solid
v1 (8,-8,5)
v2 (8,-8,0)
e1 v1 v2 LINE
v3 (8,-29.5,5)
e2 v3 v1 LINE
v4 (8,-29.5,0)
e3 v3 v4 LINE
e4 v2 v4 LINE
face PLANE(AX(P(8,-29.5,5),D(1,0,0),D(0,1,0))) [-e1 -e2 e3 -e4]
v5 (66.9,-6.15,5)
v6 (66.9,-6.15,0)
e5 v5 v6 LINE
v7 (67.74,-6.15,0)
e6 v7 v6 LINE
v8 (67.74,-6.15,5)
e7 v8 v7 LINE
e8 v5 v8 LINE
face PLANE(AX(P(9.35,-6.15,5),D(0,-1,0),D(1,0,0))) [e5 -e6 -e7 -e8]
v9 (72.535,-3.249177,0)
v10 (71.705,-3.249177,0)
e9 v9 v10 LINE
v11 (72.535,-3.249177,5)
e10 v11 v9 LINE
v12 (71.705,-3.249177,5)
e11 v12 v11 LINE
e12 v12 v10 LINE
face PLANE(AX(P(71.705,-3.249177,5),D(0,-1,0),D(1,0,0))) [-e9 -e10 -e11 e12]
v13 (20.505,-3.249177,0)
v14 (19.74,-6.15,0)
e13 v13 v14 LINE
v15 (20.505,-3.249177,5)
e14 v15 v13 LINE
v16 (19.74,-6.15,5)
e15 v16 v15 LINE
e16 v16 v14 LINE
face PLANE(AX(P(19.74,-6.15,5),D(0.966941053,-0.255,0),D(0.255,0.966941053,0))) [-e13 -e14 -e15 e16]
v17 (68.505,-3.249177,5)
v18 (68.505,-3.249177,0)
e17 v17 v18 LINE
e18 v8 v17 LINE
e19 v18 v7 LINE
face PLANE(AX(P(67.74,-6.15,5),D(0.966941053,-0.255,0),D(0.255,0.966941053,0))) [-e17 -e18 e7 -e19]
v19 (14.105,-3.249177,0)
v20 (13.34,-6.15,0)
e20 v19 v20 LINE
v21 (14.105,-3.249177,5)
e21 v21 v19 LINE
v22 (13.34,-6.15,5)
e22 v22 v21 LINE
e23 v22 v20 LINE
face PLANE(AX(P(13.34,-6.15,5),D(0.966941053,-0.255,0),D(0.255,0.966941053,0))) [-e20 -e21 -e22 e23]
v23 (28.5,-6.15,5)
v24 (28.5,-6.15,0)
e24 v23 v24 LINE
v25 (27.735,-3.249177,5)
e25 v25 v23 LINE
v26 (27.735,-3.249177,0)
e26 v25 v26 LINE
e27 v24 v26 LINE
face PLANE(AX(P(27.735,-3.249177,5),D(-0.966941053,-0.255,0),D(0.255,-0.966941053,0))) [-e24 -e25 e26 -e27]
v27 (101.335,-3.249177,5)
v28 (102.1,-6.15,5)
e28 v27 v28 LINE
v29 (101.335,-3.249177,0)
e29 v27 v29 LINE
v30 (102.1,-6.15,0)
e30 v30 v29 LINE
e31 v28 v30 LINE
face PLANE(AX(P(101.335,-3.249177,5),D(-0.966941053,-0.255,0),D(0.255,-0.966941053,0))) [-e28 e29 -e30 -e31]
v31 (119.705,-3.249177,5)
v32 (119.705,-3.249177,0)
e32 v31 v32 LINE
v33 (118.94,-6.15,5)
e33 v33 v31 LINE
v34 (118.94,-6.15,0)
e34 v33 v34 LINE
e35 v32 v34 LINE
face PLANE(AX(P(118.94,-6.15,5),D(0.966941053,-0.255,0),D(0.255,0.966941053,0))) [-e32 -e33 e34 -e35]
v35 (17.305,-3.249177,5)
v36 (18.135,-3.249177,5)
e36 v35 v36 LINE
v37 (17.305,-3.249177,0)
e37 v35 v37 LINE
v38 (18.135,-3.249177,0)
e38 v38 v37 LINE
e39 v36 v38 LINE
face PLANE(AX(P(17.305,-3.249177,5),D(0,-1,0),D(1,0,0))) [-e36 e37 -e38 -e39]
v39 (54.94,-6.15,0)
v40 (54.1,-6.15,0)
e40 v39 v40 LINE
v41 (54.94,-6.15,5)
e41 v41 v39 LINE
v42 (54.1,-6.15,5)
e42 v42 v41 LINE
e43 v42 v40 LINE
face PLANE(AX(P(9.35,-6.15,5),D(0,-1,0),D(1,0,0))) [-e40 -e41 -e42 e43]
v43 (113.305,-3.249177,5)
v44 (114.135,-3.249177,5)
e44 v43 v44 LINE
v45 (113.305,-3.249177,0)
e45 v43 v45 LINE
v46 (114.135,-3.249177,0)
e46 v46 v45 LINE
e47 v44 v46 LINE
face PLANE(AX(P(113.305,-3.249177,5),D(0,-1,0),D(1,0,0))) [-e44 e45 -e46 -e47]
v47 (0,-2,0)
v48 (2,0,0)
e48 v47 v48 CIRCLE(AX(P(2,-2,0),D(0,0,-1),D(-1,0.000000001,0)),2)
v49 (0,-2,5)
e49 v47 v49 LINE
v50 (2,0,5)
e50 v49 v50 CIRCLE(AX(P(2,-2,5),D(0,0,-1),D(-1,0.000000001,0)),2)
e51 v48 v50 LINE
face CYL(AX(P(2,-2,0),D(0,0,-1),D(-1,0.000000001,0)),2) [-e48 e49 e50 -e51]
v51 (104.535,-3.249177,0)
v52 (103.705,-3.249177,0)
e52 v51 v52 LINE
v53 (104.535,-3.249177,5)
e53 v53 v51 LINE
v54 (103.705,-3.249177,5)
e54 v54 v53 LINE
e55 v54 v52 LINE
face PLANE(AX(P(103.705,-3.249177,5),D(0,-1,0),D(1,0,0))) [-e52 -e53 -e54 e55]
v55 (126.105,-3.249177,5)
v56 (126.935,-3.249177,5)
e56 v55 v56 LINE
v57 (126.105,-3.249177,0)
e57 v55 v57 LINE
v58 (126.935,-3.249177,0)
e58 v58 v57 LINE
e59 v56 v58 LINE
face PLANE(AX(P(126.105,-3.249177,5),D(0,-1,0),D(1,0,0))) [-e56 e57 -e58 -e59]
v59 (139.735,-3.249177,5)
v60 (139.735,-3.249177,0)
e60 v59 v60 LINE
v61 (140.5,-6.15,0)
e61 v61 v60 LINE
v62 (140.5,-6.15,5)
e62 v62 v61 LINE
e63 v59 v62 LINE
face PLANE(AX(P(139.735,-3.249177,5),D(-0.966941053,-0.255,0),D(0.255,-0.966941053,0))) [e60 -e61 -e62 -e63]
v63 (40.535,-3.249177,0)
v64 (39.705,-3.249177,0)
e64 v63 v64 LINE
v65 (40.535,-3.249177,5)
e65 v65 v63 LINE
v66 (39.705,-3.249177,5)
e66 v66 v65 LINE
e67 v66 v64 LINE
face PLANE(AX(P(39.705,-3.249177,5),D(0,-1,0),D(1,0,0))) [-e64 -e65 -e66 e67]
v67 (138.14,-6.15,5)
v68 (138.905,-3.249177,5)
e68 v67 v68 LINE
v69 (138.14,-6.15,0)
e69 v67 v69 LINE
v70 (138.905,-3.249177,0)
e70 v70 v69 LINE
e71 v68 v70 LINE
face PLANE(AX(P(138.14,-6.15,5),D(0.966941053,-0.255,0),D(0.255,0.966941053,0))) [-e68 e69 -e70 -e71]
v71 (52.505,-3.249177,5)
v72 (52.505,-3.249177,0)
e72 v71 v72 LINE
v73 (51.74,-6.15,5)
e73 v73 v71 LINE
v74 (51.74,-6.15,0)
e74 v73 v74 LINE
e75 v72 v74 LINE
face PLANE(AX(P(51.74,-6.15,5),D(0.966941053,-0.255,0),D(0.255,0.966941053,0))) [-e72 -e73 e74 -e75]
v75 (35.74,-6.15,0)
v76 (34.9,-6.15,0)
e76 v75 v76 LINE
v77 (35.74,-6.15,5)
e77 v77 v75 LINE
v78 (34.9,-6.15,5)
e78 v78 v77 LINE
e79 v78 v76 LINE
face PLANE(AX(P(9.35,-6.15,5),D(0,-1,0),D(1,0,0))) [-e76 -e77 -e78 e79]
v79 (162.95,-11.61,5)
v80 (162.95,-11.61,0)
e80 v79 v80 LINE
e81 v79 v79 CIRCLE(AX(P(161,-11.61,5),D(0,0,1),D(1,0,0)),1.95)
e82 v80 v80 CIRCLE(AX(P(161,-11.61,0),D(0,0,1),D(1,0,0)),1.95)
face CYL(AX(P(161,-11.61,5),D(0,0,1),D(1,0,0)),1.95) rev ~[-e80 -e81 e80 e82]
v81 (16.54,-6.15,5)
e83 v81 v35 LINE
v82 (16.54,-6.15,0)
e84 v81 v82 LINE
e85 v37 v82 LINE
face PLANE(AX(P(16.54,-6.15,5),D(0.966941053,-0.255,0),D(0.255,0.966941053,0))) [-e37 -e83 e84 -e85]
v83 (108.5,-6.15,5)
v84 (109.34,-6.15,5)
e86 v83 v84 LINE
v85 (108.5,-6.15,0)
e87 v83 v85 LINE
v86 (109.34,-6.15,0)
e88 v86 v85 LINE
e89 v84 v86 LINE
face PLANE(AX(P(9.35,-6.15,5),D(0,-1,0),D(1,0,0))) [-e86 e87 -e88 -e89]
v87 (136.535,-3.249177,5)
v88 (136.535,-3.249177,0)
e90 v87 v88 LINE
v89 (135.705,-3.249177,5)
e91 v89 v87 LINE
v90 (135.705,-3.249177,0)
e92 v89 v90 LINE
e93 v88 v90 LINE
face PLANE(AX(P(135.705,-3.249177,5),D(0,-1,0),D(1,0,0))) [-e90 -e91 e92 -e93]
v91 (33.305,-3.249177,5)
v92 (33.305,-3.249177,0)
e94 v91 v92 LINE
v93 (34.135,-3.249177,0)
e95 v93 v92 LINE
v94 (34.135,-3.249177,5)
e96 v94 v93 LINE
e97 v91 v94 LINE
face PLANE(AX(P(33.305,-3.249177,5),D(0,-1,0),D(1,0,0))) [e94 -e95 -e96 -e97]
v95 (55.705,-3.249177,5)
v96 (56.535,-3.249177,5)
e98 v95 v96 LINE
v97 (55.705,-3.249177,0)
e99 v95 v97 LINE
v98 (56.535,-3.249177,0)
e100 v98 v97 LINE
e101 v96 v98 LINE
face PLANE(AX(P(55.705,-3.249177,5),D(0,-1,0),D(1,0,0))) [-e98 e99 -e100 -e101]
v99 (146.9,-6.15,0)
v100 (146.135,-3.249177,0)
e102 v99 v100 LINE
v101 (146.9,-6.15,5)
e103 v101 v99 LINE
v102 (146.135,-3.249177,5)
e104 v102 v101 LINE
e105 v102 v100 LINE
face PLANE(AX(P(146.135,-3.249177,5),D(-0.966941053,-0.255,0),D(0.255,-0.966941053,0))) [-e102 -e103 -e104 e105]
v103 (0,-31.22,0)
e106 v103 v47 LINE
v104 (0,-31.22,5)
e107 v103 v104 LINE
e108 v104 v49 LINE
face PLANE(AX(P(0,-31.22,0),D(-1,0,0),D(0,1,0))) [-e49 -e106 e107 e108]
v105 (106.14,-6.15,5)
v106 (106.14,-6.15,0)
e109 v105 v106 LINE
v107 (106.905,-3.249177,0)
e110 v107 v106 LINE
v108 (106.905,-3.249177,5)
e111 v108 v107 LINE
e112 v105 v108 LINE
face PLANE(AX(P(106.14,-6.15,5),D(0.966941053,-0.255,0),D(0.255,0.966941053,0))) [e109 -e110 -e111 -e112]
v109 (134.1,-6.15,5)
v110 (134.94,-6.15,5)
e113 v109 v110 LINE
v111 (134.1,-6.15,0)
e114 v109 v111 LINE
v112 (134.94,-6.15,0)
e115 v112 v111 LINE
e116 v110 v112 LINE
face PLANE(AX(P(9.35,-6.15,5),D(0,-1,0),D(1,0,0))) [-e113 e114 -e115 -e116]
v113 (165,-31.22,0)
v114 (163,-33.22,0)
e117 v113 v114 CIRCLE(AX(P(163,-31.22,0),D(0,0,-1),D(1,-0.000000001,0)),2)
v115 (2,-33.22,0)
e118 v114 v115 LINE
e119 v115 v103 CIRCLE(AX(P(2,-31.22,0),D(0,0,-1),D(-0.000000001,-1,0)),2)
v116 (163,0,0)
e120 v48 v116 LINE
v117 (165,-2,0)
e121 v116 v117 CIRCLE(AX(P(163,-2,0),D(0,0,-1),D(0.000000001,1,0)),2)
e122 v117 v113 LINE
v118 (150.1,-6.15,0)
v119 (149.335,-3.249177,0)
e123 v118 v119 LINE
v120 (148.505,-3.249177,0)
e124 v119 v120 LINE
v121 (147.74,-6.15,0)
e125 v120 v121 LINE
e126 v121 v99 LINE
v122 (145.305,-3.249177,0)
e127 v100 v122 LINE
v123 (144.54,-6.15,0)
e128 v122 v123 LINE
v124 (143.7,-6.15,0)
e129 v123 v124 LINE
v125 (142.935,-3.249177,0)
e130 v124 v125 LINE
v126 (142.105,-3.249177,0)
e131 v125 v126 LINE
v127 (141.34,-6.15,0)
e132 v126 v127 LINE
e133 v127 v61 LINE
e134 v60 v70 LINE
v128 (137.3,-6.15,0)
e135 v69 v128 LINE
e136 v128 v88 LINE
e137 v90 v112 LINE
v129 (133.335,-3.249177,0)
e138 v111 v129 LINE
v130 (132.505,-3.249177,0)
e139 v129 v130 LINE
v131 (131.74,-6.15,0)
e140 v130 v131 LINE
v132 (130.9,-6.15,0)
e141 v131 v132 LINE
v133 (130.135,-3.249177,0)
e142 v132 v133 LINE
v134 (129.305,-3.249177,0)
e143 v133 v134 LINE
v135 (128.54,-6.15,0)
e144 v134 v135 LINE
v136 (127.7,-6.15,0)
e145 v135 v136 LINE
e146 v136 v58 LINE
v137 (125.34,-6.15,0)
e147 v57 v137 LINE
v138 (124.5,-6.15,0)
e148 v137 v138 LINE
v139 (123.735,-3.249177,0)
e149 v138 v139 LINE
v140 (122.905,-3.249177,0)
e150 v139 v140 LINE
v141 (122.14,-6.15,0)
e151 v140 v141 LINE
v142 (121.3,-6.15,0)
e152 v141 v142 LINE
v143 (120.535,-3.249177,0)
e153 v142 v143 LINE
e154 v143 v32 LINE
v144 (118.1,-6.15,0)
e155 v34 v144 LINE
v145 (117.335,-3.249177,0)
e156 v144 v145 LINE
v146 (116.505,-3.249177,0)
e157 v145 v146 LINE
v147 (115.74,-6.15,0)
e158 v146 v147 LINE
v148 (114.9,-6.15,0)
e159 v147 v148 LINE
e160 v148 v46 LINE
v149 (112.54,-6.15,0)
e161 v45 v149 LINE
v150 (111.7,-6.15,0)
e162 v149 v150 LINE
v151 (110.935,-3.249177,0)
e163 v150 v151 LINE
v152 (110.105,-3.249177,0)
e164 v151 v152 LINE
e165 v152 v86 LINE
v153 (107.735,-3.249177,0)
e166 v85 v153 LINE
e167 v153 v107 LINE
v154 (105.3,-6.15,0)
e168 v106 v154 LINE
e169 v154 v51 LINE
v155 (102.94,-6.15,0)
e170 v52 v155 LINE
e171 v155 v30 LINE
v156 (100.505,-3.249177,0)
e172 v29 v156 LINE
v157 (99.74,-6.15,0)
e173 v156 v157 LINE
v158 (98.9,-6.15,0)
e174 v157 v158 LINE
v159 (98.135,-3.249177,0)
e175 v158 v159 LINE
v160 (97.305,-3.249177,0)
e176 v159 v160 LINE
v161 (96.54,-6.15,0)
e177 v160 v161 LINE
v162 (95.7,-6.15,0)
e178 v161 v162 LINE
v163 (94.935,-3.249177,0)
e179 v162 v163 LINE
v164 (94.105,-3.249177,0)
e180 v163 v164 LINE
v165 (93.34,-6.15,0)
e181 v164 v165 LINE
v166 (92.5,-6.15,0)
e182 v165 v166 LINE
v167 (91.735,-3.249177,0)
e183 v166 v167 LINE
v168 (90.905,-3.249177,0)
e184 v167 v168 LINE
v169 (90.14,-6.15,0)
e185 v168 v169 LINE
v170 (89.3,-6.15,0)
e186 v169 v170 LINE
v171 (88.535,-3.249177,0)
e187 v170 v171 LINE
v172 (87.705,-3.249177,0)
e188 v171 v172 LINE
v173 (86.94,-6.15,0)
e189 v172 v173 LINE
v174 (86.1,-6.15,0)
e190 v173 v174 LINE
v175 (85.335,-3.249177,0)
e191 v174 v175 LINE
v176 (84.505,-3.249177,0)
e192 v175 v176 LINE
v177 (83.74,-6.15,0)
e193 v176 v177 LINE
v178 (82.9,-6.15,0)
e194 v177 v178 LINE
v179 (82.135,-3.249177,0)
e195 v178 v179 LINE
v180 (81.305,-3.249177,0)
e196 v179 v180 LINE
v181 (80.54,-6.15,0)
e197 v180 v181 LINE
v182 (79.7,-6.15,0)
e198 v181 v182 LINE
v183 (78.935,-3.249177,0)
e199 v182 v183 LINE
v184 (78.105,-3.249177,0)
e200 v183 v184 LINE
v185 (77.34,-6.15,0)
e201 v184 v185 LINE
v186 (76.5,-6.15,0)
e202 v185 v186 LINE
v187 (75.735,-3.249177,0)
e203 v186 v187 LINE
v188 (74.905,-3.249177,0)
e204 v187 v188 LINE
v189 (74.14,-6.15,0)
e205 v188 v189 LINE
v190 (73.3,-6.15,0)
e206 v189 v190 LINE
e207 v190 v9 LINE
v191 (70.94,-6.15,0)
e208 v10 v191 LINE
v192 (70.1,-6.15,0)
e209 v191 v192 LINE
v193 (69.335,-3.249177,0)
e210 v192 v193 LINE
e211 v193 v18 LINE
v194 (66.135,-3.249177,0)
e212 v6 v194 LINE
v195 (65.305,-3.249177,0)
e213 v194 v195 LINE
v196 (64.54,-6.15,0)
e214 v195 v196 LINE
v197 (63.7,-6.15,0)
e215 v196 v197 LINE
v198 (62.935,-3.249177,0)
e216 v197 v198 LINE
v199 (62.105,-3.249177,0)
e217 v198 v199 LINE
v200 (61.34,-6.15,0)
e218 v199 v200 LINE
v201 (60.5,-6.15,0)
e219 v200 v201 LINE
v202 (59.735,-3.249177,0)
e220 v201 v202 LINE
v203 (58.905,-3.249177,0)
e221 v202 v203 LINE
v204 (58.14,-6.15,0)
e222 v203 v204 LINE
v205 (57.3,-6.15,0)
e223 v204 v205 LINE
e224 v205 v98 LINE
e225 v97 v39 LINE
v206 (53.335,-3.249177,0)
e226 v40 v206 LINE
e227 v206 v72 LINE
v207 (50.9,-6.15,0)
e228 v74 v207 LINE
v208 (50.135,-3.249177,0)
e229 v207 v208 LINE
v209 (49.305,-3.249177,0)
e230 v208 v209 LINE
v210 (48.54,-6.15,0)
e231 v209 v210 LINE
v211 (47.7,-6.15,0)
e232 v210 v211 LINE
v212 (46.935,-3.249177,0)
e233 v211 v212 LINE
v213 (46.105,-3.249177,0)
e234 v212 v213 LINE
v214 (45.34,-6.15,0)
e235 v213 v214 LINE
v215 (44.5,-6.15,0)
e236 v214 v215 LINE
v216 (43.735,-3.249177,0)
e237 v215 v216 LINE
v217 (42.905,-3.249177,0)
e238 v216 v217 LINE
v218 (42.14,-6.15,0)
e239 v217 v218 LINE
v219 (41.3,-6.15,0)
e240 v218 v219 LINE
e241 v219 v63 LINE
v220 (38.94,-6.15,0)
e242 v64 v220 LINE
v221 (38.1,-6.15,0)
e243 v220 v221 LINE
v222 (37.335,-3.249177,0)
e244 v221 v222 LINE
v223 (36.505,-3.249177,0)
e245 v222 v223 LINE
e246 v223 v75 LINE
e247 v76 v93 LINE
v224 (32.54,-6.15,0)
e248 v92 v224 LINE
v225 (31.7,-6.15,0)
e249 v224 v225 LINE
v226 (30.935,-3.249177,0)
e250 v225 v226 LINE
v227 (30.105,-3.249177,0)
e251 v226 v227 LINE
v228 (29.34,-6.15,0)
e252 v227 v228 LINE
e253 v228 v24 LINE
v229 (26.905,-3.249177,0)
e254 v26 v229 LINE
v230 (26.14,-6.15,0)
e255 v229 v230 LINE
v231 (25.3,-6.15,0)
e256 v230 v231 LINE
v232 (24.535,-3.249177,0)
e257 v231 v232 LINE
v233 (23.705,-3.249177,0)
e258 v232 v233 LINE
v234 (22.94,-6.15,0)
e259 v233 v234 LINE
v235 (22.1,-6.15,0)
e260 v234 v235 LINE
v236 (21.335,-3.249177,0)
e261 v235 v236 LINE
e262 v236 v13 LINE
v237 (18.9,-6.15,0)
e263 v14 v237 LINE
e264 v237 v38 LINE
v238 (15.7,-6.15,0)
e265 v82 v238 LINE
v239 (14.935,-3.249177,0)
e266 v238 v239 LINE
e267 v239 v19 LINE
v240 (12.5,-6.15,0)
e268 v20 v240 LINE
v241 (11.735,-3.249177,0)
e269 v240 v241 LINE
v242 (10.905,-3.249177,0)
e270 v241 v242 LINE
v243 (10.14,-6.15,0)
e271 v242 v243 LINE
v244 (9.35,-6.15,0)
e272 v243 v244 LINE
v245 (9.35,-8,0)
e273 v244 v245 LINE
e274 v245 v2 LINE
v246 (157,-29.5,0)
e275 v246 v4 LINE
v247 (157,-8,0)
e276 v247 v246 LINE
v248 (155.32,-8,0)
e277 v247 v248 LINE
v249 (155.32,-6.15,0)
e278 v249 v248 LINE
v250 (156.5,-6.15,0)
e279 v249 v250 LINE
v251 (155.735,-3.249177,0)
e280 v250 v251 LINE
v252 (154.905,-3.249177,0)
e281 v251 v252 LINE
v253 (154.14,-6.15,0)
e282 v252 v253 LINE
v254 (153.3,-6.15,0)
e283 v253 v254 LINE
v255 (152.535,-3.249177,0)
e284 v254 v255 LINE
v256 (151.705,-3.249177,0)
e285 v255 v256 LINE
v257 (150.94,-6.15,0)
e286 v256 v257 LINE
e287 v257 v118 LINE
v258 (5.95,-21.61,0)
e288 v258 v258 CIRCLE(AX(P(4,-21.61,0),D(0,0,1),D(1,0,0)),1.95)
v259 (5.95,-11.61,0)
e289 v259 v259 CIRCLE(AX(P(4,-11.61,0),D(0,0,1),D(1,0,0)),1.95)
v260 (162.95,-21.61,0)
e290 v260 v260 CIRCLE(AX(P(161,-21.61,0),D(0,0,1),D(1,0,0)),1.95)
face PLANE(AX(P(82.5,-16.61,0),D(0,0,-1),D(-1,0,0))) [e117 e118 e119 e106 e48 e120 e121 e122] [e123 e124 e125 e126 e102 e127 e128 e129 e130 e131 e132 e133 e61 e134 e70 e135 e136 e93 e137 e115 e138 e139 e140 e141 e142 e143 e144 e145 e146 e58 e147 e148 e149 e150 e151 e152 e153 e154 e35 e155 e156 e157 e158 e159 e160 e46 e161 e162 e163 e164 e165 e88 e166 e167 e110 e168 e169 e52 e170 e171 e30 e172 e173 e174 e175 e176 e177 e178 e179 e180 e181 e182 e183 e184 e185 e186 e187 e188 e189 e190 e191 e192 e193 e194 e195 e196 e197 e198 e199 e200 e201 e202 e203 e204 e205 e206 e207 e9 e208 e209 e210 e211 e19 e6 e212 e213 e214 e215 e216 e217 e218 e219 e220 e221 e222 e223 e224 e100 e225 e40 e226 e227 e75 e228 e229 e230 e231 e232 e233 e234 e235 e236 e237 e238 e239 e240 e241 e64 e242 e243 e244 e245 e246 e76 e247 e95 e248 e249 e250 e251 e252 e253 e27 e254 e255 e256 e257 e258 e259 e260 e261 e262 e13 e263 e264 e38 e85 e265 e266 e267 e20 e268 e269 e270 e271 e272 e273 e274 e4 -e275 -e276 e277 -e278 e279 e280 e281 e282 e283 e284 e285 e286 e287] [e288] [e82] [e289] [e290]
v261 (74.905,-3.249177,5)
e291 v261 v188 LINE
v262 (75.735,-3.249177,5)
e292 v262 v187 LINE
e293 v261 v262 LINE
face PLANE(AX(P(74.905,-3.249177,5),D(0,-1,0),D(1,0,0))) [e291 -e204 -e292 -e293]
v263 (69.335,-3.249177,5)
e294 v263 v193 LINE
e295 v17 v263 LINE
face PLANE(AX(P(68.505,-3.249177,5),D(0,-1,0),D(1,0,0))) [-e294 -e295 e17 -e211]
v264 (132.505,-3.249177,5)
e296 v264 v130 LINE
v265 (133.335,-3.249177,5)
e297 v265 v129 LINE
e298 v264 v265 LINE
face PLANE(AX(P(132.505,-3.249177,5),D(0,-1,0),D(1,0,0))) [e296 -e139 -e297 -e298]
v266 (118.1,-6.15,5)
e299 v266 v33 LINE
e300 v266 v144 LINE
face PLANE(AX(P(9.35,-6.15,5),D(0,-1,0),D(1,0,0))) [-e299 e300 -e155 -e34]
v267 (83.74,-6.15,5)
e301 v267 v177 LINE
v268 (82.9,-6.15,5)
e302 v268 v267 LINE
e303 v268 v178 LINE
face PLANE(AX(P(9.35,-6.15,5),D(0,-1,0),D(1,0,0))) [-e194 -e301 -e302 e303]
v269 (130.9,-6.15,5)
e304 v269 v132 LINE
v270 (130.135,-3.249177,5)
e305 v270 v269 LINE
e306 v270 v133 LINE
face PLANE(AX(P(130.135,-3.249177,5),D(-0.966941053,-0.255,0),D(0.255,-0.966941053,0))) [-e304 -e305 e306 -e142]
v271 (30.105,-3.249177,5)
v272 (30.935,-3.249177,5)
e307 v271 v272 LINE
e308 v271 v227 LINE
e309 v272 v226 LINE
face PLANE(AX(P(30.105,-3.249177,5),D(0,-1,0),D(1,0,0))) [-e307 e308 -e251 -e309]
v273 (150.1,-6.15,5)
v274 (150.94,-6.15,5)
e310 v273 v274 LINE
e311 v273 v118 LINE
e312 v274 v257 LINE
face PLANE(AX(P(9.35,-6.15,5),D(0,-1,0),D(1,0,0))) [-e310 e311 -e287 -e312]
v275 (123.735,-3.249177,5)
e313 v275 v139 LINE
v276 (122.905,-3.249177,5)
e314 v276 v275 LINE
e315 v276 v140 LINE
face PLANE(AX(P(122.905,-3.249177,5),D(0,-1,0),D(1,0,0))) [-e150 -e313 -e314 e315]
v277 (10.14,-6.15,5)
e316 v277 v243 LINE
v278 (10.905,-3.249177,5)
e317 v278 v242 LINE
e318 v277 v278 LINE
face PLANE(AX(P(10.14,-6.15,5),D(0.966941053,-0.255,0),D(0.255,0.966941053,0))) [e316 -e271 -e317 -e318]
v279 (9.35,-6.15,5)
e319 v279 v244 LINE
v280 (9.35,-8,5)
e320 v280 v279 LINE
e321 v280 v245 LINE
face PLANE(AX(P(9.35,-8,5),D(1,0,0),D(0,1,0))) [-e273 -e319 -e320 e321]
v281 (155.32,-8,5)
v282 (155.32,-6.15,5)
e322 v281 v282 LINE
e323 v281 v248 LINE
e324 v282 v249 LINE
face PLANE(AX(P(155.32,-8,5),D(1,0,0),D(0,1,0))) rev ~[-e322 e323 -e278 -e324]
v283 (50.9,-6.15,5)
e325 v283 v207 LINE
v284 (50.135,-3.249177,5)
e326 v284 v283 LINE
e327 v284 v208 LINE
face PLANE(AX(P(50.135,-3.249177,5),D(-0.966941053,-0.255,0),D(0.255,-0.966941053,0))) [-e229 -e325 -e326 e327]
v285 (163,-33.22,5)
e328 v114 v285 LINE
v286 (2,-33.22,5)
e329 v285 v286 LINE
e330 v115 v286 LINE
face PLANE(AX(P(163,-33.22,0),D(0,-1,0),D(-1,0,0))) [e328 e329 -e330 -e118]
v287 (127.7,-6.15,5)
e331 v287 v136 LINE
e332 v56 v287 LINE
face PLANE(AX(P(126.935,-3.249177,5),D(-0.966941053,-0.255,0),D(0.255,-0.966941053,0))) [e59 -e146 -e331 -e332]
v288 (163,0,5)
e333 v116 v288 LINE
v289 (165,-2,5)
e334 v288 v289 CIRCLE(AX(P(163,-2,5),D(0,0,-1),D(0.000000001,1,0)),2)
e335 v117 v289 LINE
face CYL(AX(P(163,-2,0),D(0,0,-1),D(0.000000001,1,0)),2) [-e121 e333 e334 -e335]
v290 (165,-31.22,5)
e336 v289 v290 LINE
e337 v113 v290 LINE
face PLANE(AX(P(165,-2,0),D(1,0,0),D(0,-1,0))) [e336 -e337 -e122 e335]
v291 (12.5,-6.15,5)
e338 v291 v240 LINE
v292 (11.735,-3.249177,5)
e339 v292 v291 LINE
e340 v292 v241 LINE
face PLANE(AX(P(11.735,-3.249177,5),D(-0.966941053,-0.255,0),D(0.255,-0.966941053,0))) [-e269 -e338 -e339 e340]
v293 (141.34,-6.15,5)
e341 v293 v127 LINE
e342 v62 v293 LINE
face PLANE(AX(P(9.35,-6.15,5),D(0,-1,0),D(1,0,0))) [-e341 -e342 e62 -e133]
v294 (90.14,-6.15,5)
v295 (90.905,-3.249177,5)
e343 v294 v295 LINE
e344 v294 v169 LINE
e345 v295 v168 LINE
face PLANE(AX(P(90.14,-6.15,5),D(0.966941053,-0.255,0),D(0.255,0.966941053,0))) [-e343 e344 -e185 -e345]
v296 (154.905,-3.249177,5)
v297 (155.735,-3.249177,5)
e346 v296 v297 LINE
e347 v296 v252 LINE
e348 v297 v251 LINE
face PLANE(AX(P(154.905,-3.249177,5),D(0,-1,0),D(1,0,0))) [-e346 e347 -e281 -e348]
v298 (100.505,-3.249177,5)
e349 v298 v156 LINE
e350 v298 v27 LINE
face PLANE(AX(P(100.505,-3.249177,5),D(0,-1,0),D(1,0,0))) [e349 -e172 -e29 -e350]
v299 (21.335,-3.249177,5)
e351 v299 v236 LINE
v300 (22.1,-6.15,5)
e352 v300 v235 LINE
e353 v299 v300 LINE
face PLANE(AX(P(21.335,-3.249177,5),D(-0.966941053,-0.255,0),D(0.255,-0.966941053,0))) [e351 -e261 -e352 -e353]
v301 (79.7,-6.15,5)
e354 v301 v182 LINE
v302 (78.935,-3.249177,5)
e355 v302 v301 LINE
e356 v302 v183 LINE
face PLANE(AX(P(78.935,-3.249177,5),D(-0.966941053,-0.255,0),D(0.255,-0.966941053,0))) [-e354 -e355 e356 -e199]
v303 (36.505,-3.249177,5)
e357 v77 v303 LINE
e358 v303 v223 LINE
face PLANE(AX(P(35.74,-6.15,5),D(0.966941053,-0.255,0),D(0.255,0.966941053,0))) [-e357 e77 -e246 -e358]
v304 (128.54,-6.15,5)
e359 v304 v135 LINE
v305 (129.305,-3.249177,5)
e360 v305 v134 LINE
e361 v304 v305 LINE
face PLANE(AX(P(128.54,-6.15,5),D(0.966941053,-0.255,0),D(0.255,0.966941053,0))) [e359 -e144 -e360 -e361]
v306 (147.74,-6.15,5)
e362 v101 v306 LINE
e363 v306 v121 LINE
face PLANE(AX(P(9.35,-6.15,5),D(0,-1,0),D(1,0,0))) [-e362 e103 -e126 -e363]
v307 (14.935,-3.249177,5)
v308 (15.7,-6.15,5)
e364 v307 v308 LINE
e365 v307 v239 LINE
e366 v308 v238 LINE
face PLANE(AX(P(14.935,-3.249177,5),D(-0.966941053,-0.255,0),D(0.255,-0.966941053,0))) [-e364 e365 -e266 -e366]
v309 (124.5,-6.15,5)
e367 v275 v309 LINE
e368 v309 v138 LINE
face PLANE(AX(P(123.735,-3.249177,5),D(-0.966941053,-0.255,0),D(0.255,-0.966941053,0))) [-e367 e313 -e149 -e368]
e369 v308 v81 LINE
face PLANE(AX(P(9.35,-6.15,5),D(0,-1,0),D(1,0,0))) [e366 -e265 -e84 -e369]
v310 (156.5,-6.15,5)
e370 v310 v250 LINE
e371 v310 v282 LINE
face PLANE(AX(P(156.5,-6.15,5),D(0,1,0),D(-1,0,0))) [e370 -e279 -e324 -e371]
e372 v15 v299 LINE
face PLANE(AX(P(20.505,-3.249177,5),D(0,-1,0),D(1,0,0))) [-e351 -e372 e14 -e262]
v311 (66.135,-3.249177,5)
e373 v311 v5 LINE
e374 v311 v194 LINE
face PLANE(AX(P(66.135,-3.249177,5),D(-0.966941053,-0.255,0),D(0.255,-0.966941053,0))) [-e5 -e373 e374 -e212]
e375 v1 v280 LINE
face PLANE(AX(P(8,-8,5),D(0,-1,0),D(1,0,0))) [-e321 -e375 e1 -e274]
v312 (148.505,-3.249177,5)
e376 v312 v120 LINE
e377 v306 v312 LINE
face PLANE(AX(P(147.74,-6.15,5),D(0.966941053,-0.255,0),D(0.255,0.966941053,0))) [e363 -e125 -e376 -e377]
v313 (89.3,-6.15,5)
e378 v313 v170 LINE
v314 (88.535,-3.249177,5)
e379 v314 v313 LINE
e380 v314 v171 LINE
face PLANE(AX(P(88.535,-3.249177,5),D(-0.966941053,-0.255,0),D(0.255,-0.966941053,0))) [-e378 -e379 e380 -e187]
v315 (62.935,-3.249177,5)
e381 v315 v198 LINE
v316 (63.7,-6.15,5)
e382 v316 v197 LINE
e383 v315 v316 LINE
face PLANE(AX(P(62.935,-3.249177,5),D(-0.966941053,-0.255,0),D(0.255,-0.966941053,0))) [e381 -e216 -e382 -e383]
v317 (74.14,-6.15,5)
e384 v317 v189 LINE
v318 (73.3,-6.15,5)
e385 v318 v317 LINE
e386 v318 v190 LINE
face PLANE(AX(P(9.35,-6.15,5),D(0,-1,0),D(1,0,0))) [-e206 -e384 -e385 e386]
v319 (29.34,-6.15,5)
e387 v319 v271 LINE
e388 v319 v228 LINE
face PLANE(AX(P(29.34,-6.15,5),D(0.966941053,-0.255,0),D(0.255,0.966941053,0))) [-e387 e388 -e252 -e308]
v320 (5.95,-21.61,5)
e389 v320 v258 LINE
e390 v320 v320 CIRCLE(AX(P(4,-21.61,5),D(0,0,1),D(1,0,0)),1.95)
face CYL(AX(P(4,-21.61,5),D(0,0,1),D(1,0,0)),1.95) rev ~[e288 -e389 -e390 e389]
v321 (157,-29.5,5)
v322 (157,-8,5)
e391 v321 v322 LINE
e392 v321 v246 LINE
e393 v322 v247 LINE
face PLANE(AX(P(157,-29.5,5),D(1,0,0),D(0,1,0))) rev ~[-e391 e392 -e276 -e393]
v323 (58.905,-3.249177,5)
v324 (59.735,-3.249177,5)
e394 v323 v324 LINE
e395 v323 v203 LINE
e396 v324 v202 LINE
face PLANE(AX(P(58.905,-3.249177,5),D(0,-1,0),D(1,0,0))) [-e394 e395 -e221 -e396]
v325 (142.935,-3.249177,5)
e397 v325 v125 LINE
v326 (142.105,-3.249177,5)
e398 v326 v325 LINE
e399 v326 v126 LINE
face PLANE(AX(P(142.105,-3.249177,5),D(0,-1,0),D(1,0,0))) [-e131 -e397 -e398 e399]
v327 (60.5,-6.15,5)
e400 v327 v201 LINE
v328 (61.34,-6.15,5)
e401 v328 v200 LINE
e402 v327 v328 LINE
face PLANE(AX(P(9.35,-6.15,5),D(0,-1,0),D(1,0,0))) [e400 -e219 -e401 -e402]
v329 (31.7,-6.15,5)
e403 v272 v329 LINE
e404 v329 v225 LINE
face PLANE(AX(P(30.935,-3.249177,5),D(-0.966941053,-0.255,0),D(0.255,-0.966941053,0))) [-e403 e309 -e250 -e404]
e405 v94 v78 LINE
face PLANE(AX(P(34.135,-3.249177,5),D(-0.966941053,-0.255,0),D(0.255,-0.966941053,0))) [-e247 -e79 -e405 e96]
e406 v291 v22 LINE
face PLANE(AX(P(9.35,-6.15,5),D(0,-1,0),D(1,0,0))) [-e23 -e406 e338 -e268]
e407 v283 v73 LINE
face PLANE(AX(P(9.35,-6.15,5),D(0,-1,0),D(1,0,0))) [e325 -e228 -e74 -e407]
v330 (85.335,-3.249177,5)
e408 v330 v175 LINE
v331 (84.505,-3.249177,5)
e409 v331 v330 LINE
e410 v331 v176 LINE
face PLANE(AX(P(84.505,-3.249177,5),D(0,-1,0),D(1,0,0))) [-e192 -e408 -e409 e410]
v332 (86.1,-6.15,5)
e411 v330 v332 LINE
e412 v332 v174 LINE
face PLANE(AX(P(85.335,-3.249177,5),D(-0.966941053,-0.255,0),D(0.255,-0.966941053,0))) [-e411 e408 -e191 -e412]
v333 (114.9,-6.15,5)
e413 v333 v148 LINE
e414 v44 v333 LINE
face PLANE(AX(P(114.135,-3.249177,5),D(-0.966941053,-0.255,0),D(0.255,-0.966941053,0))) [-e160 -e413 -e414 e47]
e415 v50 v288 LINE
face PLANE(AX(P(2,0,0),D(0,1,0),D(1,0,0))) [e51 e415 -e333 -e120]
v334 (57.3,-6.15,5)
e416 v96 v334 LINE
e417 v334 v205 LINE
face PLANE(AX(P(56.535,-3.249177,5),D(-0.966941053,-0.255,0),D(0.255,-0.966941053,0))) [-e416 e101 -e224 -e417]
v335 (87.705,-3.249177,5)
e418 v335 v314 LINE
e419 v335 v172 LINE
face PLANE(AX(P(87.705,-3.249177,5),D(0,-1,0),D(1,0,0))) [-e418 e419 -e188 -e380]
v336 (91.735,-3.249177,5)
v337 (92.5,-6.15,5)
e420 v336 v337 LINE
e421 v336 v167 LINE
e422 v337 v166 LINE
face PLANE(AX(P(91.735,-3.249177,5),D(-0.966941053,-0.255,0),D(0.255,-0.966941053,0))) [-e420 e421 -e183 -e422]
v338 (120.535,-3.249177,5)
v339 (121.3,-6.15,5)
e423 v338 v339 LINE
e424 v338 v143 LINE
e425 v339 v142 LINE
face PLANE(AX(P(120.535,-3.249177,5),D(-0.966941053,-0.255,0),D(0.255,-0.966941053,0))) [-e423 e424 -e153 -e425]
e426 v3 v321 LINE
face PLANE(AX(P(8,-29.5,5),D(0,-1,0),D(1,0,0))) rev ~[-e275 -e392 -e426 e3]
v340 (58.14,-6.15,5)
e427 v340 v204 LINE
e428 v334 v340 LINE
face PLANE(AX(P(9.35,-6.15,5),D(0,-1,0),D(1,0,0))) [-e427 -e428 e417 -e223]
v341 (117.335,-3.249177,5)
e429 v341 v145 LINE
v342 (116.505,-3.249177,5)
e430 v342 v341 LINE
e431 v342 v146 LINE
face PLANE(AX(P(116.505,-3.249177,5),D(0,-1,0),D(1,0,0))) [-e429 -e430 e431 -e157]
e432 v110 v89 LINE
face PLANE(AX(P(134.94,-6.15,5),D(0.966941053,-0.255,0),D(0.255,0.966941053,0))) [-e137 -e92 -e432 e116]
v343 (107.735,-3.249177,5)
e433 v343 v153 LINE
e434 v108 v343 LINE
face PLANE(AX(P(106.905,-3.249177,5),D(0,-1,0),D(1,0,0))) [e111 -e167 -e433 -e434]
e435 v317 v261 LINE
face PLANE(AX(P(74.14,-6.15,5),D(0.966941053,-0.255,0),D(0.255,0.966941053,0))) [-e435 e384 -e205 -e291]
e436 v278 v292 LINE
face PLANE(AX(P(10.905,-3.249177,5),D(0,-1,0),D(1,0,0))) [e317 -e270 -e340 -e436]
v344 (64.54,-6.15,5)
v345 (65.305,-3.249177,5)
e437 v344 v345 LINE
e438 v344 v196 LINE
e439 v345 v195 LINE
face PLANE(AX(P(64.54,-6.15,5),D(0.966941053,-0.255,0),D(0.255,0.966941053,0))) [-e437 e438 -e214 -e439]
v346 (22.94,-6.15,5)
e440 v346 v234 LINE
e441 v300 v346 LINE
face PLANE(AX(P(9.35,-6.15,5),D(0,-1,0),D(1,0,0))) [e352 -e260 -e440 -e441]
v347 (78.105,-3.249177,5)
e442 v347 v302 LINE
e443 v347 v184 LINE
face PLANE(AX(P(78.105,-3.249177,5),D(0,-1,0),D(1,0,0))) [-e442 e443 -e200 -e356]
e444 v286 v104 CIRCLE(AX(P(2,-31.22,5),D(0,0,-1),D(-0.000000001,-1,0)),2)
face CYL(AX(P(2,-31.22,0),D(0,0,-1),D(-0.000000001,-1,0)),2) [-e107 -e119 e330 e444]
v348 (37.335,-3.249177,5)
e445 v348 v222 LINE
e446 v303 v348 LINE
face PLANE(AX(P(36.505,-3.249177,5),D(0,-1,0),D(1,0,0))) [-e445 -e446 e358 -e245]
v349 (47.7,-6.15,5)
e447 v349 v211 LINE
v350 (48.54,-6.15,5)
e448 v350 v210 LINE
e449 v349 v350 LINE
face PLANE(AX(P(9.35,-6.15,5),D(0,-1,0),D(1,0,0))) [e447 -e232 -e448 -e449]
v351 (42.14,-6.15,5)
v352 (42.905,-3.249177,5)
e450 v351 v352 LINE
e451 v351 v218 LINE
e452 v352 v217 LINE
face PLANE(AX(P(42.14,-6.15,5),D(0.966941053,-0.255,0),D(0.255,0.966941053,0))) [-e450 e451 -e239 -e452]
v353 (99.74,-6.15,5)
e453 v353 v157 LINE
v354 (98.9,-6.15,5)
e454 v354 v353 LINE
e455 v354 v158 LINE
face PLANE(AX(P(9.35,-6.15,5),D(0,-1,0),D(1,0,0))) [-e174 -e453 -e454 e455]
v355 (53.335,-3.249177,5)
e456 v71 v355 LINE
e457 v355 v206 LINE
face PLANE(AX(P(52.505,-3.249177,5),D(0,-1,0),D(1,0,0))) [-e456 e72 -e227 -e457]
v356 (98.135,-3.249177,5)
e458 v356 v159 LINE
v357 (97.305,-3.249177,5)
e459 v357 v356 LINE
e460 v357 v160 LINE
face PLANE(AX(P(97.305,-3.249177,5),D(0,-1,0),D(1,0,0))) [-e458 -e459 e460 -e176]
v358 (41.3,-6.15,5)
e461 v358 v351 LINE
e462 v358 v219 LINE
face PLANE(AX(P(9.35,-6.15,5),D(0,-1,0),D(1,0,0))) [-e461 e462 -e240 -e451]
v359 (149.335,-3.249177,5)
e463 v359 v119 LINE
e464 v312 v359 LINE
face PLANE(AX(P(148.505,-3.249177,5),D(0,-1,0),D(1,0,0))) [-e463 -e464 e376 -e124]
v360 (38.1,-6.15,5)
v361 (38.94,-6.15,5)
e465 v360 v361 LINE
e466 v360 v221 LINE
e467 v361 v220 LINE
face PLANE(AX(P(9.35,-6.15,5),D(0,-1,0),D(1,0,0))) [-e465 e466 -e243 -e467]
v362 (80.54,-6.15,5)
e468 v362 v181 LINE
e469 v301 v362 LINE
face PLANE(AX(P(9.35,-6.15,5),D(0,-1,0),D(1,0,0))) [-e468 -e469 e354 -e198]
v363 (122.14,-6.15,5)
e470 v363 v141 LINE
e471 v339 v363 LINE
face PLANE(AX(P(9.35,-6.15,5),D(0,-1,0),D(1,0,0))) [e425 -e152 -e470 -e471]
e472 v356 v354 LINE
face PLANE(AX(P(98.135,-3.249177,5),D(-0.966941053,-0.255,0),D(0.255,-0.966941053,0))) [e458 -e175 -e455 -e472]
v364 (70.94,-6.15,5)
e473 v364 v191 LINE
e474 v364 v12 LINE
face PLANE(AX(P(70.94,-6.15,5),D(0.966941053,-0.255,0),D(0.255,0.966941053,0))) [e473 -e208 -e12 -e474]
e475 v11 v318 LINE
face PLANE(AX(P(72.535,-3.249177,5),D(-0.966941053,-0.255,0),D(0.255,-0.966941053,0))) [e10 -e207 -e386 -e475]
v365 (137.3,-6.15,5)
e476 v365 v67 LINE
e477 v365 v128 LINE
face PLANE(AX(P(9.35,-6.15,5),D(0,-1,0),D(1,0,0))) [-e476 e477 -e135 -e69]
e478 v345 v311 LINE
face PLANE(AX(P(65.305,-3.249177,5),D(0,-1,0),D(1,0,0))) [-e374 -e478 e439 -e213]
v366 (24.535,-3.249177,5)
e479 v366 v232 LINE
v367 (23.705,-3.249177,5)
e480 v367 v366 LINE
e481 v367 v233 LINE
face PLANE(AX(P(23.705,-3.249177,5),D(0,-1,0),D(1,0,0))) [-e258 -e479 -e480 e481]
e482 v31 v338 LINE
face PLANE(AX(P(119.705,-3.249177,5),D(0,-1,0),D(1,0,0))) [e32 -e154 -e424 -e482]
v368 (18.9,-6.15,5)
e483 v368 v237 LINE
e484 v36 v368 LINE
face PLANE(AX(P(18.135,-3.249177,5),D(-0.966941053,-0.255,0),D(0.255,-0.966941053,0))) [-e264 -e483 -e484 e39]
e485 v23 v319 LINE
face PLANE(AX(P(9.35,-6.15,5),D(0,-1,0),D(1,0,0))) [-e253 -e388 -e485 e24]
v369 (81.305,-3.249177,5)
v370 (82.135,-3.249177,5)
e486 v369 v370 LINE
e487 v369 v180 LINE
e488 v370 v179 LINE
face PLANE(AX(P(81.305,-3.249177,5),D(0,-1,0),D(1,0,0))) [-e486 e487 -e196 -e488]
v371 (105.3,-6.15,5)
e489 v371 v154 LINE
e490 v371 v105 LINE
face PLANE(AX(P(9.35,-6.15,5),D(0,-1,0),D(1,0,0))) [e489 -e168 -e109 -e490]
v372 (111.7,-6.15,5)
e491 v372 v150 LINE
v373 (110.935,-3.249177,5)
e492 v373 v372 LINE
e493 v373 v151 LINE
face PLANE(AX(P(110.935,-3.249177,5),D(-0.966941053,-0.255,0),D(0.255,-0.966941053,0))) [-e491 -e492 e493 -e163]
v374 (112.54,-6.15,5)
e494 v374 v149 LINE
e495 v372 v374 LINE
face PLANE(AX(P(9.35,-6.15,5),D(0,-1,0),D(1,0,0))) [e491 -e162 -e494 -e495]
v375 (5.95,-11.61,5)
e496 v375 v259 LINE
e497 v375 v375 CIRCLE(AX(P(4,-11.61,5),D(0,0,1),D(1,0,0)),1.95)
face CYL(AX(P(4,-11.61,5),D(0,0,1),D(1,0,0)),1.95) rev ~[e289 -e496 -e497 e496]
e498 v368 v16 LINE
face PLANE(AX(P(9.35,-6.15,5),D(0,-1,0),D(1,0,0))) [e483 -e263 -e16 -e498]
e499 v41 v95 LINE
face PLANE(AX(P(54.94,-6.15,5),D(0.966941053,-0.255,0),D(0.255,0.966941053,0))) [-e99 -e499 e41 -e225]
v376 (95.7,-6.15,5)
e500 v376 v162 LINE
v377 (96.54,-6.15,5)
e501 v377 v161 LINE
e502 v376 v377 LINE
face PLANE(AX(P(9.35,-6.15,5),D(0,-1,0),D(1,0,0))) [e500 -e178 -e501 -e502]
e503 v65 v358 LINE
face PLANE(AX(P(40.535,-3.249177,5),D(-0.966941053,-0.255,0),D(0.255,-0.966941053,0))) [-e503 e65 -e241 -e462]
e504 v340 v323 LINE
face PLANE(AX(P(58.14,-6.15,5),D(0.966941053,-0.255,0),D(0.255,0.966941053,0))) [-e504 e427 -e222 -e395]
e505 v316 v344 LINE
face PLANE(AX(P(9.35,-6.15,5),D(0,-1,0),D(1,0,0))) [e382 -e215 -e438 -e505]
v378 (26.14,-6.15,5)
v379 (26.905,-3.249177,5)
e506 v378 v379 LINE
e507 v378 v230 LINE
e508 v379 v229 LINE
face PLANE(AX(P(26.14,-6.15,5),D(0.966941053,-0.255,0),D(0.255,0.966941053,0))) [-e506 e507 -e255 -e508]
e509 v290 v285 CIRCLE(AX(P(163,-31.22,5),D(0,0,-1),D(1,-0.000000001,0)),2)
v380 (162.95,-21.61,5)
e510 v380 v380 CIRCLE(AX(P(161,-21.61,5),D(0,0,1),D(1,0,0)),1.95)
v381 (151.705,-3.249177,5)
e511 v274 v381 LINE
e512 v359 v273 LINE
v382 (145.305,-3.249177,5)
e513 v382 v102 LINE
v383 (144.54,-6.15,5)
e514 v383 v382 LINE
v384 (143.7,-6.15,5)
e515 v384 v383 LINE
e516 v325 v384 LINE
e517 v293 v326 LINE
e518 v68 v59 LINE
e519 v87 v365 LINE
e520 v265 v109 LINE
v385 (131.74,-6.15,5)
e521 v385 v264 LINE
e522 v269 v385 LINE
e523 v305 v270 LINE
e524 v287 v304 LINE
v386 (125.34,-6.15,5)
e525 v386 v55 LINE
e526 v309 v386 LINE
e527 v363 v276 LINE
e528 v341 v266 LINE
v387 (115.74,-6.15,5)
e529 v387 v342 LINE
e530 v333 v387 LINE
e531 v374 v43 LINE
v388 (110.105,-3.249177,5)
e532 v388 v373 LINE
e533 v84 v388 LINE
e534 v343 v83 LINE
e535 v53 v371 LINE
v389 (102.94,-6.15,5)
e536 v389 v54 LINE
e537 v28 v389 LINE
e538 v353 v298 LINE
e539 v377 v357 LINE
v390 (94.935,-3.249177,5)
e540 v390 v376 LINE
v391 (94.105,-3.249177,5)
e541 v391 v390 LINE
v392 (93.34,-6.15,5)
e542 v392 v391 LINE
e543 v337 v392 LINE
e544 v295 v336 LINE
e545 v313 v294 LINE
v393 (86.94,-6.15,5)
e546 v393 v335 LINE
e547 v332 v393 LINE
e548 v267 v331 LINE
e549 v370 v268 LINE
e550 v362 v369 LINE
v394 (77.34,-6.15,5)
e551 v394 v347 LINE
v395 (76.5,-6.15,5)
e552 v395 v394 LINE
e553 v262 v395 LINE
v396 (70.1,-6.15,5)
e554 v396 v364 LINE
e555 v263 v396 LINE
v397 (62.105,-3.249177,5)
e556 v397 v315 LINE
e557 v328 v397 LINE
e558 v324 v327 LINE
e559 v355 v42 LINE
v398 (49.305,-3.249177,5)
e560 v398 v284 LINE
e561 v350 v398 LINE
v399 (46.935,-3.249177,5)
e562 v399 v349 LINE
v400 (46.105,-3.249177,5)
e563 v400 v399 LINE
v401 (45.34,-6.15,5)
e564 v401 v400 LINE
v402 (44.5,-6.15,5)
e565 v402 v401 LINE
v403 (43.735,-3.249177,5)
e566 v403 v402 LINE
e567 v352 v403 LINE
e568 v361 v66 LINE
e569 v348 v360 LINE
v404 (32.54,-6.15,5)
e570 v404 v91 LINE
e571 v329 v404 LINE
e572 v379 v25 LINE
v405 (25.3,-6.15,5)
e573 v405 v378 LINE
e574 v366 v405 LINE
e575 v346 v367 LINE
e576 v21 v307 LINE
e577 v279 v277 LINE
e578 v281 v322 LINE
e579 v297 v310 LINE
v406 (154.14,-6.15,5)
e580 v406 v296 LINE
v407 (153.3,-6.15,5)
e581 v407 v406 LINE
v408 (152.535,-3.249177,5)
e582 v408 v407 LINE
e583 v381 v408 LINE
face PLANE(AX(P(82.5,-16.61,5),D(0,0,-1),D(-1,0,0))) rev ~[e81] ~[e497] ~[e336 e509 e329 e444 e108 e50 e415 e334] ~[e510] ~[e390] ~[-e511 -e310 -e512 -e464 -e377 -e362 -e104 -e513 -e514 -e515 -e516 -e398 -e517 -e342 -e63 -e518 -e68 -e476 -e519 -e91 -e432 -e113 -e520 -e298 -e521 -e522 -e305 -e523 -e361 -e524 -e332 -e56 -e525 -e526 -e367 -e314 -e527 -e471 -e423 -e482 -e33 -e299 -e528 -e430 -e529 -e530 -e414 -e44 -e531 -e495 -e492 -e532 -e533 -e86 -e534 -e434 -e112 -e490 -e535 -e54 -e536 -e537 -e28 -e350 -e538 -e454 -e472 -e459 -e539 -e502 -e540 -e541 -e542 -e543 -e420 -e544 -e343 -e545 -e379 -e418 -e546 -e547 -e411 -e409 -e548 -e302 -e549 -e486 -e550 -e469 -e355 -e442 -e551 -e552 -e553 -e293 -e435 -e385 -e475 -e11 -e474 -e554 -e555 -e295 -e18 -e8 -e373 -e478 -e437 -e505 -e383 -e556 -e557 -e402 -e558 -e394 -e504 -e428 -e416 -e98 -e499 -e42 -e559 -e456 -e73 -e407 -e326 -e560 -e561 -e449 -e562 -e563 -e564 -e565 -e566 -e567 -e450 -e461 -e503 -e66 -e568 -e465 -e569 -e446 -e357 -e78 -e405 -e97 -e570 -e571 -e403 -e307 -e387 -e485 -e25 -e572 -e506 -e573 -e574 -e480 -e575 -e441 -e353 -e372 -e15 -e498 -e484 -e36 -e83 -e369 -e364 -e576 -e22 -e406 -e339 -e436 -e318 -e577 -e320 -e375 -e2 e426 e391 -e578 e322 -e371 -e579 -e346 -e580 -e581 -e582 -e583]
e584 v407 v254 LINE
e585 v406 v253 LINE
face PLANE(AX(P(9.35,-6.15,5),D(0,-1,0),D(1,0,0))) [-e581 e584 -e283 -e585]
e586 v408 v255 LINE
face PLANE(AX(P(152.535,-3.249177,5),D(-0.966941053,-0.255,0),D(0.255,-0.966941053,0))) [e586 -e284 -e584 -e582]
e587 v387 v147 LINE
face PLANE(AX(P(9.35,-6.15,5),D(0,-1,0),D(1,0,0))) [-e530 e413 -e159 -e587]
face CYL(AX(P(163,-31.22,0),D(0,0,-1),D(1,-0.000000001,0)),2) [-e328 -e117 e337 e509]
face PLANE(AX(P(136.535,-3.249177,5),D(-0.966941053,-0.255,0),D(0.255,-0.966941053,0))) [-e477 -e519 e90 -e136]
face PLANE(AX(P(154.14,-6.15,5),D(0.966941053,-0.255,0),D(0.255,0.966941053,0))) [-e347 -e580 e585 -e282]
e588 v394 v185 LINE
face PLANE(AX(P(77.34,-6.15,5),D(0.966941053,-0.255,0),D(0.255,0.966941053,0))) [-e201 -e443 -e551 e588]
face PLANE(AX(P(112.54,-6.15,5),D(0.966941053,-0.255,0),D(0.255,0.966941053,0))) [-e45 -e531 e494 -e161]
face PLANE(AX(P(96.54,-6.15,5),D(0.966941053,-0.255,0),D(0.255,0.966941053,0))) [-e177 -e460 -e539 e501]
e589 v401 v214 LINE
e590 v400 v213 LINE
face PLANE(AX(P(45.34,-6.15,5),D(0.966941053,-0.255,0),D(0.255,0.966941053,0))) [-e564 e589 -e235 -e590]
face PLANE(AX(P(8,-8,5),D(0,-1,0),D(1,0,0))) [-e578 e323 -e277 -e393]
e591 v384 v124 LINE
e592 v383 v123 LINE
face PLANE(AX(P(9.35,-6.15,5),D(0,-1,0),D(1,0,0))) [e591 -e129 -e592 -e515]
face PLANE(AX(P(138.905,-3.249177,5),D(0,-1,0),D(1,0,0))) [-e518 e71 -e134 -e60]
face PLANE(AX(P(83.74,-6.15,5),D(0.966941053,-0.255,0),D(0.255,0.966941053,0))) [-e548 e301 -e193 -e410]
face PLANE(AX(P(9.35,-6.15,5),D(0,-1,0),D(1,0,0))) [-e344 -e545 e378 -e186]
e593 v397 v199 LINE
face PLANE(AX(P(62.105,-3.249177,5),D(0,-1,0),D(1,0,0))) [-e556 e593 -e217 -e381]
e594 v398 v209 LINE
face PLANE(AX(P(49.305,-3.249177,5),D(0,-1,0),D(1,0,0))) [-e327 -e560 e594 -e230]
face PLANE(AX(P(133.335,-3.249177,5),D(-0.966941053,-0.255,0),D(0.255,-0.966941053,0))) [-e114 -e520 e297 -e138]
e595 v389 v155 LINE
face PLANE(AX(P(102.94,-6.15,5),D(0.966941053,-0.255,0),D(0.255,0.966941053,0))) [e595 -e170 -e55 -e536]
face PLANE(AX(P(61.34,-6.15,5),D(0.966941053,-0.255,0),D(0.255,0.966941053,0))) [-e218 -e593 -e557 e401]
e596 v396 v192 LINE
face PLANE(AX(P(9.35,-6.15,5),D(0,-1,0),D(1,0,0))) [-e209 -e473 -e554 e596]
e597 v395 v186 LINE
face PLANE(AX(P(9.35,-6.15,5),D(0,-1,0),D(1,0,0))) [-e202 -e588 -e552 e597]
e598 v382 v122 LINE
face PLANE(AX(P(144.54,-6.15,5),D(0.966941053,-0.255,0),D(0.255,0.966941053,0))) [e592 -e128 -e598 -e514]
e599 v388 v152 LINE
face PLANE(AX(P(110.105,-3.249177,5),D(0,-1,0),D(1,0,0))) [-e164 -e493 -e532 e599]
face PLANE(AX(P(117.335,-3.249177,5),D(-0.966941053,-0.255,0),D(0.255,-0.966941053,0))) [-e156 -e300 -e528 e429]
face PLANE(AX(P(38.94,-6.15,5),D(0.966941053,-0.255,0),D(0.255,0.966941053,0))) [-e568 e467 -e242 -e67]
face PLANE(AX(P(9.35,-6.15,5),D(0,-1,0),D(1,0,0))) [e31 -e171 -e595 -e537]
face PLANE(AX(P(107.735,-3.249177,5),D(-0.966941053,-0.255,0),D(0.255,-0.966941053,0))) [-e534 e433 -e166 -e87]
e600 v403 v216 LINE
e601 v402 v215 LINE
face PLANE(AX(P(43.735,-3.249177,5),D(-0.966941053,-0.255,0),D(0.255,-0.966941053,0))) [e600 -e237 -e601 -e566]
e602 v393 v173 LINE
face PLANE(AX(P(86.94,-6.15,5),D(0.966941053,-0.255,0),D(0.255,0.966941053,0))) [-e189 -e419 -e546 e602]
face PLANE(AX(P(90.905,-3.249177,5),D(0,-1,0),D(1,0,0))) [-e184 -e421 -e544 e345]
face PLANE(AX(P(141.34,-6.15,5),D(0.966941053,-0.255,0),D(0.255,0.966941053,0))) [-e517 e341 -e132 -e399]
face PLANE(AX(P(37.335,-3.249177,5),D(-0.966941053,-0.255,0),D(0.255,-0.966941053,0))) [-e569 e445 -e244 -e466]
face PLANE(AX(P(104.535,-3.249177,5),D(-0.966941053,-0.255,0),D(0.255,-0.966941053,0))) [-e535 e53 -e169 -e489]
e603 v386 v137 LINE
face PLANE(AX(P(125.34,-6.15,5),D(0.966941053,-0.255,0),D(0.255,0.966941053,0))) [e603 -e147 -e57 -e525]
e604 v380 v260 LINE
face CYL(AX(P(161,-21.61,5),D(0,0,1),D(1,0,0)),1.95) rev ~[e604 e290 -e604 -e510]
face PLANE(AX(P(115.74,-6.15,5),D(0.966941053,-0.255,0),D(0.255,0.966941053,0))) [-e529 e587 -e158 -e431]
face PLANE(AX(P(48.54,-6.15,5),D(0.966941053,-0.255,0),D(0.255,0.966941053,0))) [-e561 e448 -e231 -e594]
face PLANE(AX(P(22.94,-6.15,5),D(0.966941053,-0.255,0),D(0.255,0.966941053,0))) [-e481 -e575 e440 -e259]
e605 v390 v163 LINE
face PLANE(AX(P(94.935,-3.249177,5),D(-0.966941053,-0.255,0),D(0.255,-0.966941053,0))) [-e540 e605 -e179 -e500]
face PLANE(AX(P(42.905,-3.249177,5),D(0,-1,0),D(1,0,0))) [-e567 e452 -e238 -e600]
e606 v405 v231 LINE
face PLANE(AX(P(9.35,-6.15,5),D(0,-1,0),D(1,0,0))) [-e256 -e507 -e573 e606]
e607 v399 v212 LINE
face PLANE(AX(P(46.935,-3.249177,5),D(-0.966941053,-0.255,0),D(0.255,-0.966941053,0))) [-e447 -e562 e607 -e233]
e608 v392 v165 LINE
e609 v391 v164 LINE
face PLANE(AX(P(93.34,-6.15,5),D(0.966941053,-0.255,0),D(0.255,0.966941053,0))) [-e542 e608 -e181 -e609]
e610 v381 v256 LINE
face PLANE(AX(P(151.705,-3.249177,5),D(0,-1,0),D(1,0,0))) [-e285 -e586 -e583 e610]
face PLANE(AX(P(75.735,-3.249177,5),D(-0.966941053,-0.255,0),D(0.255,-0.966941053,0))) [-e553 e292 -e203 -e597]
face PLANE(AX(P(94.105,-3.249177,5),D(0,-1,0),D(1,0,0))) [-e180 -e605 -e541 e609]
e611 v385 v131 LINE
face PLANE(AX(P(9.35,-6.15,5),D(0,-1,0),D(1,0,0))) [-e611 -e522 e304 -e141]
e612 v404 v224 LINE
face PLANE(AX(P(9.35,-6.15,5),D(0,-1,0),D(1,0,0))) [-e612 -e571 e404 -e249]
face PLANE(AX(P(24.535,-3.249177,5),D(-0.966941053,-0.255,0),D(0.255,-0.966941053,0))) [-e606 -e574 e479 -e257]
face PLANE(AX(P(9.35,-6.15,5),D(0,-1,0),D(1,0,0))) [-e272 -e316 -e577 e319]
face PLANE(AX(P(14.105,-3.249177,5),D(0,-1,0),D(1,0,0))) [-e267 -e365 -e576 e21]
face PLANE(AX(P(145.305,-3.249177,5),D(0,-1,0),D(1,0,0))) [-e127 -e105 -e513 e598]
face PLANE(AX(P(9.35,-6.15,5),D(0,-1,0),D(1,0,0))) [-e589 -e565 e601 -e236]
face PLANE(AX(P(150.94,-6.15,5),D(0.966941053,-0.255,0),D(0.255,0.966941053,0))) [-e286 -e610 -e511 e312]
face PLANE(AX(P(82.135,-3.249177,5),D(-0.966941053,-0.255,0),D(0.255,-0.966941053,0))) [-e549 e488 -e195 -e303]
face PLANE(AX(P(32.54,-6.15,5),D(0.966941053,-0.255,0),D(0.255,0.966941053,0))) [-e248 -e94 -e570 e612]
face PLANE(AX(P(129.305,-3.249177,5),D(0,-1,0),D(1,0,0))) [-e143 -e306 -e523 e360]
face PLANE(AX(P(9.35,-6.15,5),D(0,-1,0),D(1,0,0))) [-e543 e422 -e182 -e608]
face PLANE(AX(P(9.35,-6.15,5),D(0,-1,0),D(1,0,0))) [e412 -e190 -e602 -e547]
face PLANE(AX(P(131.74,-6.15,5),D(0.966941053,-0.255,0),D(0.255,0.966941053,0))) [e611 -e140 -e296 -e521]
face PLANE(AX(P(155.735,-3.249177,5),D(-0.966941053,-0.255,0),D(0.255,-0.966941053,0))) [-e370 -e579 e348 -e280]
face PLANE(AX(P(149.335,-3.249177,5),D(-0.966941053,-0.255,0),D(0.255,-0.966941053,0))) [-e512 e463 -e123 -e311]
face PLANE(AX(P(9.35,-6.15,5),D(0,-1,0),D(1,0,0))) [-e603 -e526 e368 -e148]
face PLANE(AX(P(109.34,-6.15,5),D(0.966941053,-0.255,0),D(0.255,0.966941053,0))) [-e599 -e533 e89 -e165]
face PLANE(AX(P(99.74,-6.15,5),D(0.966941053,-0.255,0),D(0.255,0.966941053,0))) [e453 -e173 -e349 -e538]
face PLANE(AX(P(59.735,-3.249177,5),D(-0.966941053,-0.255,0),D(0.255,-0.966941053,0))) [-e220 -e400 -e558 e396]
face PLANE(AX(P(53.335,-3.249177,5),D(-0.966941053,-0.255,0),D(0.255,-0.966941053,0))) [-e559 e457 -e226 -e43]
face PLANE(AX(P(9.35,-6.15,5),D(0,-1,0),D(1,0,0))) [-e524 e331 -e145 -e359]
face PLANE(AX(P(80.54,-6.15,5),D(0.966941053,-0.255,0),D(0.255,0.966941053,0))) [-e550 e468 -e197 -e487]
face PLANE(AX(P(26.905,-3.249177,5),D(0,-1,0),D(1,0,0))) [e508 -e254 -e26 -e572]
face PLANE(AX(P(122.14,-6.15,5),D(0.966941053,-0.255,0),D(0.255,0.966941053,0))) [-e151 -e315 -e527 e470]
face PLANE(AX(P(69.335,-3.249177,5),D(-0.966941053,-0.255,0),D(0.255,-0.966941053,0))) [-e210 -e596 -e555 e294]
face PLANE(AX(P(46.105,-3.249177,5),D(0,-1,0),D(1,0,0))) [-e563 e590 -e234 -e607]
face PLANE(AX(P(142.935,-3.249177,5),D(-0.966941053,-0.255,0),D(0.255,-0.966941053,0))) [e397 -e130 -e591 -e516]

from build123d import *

# Parameters (mm, degrees)
BOSS_EXTRUDE1_DEPTH = 5
SKETCH2_W           = 149
SKETCH2_H           = 21.5
CUT_EXTRUDE1_DEPTH  = 6
SKETCH3_W           = 145.97
SKETCH3_H           = 1.85
CUT_EXTRUDE2_DEPTH  = 6
CUT_EXTRUDE4_DEPTH  = 6
LPATTERN1_COUNT     = 46
LPATTERN1_PITCH     = 3.2
SKETCH5_R           = 1.95
CUT_EXTRUDE5_DEPTH  = 10


with BuildPart() as part:
    # Sketch1 → Boss-Extrude1 (new body)
    with BuildSketch(Plane.XY):
        with BuildLine():
            Line((2, 0), (163, 0))
            ThreePointArc((163, 0), (164.414213562, -0.585786438), (165, -2))
            Line((165, -2), (165, -31.22))
            ThreePointArc((165, -31.22), (164.414213562, -32.634213562), (163, -33.22))
            Line((163, -33.22), (2, -33.22))
            ThreePointArc((2, -33.22), (0.585786438, -32.634213562), (0, -31.22))
            Line((0, -31.22), (0, -2))
            ThreePointArc((0, -2), (0.585786438, -0.585786438), (2, 0))
        make_face()
    extrude(amount=BOSS_EXTRUDE1_DEPTH)

    # Sketch2 → Cut-Extrude1 (cut, through all)
    with BuildSketch(Plane.XY.offset(5)):
        with Locations((82.5, -18.75)):
            Rectangle(SKETCH2_W, SKETCH2_H)
    extrude(amount=-CUT_EXTRUDE1_DEPTH, mode=Mode.SUBTRACT)

    # Sketch3 → Cut-Extrude2 (cut, through all)
    with BuildSketch(Plane.XY.offset(5)):
        with Locations((82.335, -7.075)):
            Rectangle(SKETCH3_W, SKETCH3_H)
    extrude(amount=-CUT_EXTRUDE2_DEPTH, mode=Mode.SUBTRACT)

    # Sketch4 → Cut-Extrude4 (cut, through all)
    with BuildSketch(Plane.XY.offset(5)):
        Polygon((155.735, -3.249176841), (156.5, -6.15), (154.14, -6.15), (154.905, -3.249176841), align=None)
    cut_extrude4 = extrude(amount=-CUT_EXTRUDE4_DEPTH, mode=Mode.SUBTRACT)

    # LPattern1: Cut-Extrude4 ×46
    with Locations(*[(-i * LPATTERN1_PITCH, 0, 0) for i in range(1, LPATTERN1_COUNT)]):
        add(cut_extrude4, mode=Mode.SUBTRACT)

    # Sketch5 → Cut-Extrude5 (cut)
    with BuildSketch(Plane.XY.offset(5)):
        with Locations((4, -11.61)):
            Circle(SKETCH5_R)
        with Locations((4, -21.61)):
            Circle(SKETCH5_R)
        with Locations((161, -11.61)):
            Circle(SKETCH5_R)
        with Locations((161, -21.61)):
            Circle(SKETCH5_R)
    extrude(amount=-CUT_EXTRUDE5_DEPTH, mode=Mode.SUBTRACT)


solid = part.part
